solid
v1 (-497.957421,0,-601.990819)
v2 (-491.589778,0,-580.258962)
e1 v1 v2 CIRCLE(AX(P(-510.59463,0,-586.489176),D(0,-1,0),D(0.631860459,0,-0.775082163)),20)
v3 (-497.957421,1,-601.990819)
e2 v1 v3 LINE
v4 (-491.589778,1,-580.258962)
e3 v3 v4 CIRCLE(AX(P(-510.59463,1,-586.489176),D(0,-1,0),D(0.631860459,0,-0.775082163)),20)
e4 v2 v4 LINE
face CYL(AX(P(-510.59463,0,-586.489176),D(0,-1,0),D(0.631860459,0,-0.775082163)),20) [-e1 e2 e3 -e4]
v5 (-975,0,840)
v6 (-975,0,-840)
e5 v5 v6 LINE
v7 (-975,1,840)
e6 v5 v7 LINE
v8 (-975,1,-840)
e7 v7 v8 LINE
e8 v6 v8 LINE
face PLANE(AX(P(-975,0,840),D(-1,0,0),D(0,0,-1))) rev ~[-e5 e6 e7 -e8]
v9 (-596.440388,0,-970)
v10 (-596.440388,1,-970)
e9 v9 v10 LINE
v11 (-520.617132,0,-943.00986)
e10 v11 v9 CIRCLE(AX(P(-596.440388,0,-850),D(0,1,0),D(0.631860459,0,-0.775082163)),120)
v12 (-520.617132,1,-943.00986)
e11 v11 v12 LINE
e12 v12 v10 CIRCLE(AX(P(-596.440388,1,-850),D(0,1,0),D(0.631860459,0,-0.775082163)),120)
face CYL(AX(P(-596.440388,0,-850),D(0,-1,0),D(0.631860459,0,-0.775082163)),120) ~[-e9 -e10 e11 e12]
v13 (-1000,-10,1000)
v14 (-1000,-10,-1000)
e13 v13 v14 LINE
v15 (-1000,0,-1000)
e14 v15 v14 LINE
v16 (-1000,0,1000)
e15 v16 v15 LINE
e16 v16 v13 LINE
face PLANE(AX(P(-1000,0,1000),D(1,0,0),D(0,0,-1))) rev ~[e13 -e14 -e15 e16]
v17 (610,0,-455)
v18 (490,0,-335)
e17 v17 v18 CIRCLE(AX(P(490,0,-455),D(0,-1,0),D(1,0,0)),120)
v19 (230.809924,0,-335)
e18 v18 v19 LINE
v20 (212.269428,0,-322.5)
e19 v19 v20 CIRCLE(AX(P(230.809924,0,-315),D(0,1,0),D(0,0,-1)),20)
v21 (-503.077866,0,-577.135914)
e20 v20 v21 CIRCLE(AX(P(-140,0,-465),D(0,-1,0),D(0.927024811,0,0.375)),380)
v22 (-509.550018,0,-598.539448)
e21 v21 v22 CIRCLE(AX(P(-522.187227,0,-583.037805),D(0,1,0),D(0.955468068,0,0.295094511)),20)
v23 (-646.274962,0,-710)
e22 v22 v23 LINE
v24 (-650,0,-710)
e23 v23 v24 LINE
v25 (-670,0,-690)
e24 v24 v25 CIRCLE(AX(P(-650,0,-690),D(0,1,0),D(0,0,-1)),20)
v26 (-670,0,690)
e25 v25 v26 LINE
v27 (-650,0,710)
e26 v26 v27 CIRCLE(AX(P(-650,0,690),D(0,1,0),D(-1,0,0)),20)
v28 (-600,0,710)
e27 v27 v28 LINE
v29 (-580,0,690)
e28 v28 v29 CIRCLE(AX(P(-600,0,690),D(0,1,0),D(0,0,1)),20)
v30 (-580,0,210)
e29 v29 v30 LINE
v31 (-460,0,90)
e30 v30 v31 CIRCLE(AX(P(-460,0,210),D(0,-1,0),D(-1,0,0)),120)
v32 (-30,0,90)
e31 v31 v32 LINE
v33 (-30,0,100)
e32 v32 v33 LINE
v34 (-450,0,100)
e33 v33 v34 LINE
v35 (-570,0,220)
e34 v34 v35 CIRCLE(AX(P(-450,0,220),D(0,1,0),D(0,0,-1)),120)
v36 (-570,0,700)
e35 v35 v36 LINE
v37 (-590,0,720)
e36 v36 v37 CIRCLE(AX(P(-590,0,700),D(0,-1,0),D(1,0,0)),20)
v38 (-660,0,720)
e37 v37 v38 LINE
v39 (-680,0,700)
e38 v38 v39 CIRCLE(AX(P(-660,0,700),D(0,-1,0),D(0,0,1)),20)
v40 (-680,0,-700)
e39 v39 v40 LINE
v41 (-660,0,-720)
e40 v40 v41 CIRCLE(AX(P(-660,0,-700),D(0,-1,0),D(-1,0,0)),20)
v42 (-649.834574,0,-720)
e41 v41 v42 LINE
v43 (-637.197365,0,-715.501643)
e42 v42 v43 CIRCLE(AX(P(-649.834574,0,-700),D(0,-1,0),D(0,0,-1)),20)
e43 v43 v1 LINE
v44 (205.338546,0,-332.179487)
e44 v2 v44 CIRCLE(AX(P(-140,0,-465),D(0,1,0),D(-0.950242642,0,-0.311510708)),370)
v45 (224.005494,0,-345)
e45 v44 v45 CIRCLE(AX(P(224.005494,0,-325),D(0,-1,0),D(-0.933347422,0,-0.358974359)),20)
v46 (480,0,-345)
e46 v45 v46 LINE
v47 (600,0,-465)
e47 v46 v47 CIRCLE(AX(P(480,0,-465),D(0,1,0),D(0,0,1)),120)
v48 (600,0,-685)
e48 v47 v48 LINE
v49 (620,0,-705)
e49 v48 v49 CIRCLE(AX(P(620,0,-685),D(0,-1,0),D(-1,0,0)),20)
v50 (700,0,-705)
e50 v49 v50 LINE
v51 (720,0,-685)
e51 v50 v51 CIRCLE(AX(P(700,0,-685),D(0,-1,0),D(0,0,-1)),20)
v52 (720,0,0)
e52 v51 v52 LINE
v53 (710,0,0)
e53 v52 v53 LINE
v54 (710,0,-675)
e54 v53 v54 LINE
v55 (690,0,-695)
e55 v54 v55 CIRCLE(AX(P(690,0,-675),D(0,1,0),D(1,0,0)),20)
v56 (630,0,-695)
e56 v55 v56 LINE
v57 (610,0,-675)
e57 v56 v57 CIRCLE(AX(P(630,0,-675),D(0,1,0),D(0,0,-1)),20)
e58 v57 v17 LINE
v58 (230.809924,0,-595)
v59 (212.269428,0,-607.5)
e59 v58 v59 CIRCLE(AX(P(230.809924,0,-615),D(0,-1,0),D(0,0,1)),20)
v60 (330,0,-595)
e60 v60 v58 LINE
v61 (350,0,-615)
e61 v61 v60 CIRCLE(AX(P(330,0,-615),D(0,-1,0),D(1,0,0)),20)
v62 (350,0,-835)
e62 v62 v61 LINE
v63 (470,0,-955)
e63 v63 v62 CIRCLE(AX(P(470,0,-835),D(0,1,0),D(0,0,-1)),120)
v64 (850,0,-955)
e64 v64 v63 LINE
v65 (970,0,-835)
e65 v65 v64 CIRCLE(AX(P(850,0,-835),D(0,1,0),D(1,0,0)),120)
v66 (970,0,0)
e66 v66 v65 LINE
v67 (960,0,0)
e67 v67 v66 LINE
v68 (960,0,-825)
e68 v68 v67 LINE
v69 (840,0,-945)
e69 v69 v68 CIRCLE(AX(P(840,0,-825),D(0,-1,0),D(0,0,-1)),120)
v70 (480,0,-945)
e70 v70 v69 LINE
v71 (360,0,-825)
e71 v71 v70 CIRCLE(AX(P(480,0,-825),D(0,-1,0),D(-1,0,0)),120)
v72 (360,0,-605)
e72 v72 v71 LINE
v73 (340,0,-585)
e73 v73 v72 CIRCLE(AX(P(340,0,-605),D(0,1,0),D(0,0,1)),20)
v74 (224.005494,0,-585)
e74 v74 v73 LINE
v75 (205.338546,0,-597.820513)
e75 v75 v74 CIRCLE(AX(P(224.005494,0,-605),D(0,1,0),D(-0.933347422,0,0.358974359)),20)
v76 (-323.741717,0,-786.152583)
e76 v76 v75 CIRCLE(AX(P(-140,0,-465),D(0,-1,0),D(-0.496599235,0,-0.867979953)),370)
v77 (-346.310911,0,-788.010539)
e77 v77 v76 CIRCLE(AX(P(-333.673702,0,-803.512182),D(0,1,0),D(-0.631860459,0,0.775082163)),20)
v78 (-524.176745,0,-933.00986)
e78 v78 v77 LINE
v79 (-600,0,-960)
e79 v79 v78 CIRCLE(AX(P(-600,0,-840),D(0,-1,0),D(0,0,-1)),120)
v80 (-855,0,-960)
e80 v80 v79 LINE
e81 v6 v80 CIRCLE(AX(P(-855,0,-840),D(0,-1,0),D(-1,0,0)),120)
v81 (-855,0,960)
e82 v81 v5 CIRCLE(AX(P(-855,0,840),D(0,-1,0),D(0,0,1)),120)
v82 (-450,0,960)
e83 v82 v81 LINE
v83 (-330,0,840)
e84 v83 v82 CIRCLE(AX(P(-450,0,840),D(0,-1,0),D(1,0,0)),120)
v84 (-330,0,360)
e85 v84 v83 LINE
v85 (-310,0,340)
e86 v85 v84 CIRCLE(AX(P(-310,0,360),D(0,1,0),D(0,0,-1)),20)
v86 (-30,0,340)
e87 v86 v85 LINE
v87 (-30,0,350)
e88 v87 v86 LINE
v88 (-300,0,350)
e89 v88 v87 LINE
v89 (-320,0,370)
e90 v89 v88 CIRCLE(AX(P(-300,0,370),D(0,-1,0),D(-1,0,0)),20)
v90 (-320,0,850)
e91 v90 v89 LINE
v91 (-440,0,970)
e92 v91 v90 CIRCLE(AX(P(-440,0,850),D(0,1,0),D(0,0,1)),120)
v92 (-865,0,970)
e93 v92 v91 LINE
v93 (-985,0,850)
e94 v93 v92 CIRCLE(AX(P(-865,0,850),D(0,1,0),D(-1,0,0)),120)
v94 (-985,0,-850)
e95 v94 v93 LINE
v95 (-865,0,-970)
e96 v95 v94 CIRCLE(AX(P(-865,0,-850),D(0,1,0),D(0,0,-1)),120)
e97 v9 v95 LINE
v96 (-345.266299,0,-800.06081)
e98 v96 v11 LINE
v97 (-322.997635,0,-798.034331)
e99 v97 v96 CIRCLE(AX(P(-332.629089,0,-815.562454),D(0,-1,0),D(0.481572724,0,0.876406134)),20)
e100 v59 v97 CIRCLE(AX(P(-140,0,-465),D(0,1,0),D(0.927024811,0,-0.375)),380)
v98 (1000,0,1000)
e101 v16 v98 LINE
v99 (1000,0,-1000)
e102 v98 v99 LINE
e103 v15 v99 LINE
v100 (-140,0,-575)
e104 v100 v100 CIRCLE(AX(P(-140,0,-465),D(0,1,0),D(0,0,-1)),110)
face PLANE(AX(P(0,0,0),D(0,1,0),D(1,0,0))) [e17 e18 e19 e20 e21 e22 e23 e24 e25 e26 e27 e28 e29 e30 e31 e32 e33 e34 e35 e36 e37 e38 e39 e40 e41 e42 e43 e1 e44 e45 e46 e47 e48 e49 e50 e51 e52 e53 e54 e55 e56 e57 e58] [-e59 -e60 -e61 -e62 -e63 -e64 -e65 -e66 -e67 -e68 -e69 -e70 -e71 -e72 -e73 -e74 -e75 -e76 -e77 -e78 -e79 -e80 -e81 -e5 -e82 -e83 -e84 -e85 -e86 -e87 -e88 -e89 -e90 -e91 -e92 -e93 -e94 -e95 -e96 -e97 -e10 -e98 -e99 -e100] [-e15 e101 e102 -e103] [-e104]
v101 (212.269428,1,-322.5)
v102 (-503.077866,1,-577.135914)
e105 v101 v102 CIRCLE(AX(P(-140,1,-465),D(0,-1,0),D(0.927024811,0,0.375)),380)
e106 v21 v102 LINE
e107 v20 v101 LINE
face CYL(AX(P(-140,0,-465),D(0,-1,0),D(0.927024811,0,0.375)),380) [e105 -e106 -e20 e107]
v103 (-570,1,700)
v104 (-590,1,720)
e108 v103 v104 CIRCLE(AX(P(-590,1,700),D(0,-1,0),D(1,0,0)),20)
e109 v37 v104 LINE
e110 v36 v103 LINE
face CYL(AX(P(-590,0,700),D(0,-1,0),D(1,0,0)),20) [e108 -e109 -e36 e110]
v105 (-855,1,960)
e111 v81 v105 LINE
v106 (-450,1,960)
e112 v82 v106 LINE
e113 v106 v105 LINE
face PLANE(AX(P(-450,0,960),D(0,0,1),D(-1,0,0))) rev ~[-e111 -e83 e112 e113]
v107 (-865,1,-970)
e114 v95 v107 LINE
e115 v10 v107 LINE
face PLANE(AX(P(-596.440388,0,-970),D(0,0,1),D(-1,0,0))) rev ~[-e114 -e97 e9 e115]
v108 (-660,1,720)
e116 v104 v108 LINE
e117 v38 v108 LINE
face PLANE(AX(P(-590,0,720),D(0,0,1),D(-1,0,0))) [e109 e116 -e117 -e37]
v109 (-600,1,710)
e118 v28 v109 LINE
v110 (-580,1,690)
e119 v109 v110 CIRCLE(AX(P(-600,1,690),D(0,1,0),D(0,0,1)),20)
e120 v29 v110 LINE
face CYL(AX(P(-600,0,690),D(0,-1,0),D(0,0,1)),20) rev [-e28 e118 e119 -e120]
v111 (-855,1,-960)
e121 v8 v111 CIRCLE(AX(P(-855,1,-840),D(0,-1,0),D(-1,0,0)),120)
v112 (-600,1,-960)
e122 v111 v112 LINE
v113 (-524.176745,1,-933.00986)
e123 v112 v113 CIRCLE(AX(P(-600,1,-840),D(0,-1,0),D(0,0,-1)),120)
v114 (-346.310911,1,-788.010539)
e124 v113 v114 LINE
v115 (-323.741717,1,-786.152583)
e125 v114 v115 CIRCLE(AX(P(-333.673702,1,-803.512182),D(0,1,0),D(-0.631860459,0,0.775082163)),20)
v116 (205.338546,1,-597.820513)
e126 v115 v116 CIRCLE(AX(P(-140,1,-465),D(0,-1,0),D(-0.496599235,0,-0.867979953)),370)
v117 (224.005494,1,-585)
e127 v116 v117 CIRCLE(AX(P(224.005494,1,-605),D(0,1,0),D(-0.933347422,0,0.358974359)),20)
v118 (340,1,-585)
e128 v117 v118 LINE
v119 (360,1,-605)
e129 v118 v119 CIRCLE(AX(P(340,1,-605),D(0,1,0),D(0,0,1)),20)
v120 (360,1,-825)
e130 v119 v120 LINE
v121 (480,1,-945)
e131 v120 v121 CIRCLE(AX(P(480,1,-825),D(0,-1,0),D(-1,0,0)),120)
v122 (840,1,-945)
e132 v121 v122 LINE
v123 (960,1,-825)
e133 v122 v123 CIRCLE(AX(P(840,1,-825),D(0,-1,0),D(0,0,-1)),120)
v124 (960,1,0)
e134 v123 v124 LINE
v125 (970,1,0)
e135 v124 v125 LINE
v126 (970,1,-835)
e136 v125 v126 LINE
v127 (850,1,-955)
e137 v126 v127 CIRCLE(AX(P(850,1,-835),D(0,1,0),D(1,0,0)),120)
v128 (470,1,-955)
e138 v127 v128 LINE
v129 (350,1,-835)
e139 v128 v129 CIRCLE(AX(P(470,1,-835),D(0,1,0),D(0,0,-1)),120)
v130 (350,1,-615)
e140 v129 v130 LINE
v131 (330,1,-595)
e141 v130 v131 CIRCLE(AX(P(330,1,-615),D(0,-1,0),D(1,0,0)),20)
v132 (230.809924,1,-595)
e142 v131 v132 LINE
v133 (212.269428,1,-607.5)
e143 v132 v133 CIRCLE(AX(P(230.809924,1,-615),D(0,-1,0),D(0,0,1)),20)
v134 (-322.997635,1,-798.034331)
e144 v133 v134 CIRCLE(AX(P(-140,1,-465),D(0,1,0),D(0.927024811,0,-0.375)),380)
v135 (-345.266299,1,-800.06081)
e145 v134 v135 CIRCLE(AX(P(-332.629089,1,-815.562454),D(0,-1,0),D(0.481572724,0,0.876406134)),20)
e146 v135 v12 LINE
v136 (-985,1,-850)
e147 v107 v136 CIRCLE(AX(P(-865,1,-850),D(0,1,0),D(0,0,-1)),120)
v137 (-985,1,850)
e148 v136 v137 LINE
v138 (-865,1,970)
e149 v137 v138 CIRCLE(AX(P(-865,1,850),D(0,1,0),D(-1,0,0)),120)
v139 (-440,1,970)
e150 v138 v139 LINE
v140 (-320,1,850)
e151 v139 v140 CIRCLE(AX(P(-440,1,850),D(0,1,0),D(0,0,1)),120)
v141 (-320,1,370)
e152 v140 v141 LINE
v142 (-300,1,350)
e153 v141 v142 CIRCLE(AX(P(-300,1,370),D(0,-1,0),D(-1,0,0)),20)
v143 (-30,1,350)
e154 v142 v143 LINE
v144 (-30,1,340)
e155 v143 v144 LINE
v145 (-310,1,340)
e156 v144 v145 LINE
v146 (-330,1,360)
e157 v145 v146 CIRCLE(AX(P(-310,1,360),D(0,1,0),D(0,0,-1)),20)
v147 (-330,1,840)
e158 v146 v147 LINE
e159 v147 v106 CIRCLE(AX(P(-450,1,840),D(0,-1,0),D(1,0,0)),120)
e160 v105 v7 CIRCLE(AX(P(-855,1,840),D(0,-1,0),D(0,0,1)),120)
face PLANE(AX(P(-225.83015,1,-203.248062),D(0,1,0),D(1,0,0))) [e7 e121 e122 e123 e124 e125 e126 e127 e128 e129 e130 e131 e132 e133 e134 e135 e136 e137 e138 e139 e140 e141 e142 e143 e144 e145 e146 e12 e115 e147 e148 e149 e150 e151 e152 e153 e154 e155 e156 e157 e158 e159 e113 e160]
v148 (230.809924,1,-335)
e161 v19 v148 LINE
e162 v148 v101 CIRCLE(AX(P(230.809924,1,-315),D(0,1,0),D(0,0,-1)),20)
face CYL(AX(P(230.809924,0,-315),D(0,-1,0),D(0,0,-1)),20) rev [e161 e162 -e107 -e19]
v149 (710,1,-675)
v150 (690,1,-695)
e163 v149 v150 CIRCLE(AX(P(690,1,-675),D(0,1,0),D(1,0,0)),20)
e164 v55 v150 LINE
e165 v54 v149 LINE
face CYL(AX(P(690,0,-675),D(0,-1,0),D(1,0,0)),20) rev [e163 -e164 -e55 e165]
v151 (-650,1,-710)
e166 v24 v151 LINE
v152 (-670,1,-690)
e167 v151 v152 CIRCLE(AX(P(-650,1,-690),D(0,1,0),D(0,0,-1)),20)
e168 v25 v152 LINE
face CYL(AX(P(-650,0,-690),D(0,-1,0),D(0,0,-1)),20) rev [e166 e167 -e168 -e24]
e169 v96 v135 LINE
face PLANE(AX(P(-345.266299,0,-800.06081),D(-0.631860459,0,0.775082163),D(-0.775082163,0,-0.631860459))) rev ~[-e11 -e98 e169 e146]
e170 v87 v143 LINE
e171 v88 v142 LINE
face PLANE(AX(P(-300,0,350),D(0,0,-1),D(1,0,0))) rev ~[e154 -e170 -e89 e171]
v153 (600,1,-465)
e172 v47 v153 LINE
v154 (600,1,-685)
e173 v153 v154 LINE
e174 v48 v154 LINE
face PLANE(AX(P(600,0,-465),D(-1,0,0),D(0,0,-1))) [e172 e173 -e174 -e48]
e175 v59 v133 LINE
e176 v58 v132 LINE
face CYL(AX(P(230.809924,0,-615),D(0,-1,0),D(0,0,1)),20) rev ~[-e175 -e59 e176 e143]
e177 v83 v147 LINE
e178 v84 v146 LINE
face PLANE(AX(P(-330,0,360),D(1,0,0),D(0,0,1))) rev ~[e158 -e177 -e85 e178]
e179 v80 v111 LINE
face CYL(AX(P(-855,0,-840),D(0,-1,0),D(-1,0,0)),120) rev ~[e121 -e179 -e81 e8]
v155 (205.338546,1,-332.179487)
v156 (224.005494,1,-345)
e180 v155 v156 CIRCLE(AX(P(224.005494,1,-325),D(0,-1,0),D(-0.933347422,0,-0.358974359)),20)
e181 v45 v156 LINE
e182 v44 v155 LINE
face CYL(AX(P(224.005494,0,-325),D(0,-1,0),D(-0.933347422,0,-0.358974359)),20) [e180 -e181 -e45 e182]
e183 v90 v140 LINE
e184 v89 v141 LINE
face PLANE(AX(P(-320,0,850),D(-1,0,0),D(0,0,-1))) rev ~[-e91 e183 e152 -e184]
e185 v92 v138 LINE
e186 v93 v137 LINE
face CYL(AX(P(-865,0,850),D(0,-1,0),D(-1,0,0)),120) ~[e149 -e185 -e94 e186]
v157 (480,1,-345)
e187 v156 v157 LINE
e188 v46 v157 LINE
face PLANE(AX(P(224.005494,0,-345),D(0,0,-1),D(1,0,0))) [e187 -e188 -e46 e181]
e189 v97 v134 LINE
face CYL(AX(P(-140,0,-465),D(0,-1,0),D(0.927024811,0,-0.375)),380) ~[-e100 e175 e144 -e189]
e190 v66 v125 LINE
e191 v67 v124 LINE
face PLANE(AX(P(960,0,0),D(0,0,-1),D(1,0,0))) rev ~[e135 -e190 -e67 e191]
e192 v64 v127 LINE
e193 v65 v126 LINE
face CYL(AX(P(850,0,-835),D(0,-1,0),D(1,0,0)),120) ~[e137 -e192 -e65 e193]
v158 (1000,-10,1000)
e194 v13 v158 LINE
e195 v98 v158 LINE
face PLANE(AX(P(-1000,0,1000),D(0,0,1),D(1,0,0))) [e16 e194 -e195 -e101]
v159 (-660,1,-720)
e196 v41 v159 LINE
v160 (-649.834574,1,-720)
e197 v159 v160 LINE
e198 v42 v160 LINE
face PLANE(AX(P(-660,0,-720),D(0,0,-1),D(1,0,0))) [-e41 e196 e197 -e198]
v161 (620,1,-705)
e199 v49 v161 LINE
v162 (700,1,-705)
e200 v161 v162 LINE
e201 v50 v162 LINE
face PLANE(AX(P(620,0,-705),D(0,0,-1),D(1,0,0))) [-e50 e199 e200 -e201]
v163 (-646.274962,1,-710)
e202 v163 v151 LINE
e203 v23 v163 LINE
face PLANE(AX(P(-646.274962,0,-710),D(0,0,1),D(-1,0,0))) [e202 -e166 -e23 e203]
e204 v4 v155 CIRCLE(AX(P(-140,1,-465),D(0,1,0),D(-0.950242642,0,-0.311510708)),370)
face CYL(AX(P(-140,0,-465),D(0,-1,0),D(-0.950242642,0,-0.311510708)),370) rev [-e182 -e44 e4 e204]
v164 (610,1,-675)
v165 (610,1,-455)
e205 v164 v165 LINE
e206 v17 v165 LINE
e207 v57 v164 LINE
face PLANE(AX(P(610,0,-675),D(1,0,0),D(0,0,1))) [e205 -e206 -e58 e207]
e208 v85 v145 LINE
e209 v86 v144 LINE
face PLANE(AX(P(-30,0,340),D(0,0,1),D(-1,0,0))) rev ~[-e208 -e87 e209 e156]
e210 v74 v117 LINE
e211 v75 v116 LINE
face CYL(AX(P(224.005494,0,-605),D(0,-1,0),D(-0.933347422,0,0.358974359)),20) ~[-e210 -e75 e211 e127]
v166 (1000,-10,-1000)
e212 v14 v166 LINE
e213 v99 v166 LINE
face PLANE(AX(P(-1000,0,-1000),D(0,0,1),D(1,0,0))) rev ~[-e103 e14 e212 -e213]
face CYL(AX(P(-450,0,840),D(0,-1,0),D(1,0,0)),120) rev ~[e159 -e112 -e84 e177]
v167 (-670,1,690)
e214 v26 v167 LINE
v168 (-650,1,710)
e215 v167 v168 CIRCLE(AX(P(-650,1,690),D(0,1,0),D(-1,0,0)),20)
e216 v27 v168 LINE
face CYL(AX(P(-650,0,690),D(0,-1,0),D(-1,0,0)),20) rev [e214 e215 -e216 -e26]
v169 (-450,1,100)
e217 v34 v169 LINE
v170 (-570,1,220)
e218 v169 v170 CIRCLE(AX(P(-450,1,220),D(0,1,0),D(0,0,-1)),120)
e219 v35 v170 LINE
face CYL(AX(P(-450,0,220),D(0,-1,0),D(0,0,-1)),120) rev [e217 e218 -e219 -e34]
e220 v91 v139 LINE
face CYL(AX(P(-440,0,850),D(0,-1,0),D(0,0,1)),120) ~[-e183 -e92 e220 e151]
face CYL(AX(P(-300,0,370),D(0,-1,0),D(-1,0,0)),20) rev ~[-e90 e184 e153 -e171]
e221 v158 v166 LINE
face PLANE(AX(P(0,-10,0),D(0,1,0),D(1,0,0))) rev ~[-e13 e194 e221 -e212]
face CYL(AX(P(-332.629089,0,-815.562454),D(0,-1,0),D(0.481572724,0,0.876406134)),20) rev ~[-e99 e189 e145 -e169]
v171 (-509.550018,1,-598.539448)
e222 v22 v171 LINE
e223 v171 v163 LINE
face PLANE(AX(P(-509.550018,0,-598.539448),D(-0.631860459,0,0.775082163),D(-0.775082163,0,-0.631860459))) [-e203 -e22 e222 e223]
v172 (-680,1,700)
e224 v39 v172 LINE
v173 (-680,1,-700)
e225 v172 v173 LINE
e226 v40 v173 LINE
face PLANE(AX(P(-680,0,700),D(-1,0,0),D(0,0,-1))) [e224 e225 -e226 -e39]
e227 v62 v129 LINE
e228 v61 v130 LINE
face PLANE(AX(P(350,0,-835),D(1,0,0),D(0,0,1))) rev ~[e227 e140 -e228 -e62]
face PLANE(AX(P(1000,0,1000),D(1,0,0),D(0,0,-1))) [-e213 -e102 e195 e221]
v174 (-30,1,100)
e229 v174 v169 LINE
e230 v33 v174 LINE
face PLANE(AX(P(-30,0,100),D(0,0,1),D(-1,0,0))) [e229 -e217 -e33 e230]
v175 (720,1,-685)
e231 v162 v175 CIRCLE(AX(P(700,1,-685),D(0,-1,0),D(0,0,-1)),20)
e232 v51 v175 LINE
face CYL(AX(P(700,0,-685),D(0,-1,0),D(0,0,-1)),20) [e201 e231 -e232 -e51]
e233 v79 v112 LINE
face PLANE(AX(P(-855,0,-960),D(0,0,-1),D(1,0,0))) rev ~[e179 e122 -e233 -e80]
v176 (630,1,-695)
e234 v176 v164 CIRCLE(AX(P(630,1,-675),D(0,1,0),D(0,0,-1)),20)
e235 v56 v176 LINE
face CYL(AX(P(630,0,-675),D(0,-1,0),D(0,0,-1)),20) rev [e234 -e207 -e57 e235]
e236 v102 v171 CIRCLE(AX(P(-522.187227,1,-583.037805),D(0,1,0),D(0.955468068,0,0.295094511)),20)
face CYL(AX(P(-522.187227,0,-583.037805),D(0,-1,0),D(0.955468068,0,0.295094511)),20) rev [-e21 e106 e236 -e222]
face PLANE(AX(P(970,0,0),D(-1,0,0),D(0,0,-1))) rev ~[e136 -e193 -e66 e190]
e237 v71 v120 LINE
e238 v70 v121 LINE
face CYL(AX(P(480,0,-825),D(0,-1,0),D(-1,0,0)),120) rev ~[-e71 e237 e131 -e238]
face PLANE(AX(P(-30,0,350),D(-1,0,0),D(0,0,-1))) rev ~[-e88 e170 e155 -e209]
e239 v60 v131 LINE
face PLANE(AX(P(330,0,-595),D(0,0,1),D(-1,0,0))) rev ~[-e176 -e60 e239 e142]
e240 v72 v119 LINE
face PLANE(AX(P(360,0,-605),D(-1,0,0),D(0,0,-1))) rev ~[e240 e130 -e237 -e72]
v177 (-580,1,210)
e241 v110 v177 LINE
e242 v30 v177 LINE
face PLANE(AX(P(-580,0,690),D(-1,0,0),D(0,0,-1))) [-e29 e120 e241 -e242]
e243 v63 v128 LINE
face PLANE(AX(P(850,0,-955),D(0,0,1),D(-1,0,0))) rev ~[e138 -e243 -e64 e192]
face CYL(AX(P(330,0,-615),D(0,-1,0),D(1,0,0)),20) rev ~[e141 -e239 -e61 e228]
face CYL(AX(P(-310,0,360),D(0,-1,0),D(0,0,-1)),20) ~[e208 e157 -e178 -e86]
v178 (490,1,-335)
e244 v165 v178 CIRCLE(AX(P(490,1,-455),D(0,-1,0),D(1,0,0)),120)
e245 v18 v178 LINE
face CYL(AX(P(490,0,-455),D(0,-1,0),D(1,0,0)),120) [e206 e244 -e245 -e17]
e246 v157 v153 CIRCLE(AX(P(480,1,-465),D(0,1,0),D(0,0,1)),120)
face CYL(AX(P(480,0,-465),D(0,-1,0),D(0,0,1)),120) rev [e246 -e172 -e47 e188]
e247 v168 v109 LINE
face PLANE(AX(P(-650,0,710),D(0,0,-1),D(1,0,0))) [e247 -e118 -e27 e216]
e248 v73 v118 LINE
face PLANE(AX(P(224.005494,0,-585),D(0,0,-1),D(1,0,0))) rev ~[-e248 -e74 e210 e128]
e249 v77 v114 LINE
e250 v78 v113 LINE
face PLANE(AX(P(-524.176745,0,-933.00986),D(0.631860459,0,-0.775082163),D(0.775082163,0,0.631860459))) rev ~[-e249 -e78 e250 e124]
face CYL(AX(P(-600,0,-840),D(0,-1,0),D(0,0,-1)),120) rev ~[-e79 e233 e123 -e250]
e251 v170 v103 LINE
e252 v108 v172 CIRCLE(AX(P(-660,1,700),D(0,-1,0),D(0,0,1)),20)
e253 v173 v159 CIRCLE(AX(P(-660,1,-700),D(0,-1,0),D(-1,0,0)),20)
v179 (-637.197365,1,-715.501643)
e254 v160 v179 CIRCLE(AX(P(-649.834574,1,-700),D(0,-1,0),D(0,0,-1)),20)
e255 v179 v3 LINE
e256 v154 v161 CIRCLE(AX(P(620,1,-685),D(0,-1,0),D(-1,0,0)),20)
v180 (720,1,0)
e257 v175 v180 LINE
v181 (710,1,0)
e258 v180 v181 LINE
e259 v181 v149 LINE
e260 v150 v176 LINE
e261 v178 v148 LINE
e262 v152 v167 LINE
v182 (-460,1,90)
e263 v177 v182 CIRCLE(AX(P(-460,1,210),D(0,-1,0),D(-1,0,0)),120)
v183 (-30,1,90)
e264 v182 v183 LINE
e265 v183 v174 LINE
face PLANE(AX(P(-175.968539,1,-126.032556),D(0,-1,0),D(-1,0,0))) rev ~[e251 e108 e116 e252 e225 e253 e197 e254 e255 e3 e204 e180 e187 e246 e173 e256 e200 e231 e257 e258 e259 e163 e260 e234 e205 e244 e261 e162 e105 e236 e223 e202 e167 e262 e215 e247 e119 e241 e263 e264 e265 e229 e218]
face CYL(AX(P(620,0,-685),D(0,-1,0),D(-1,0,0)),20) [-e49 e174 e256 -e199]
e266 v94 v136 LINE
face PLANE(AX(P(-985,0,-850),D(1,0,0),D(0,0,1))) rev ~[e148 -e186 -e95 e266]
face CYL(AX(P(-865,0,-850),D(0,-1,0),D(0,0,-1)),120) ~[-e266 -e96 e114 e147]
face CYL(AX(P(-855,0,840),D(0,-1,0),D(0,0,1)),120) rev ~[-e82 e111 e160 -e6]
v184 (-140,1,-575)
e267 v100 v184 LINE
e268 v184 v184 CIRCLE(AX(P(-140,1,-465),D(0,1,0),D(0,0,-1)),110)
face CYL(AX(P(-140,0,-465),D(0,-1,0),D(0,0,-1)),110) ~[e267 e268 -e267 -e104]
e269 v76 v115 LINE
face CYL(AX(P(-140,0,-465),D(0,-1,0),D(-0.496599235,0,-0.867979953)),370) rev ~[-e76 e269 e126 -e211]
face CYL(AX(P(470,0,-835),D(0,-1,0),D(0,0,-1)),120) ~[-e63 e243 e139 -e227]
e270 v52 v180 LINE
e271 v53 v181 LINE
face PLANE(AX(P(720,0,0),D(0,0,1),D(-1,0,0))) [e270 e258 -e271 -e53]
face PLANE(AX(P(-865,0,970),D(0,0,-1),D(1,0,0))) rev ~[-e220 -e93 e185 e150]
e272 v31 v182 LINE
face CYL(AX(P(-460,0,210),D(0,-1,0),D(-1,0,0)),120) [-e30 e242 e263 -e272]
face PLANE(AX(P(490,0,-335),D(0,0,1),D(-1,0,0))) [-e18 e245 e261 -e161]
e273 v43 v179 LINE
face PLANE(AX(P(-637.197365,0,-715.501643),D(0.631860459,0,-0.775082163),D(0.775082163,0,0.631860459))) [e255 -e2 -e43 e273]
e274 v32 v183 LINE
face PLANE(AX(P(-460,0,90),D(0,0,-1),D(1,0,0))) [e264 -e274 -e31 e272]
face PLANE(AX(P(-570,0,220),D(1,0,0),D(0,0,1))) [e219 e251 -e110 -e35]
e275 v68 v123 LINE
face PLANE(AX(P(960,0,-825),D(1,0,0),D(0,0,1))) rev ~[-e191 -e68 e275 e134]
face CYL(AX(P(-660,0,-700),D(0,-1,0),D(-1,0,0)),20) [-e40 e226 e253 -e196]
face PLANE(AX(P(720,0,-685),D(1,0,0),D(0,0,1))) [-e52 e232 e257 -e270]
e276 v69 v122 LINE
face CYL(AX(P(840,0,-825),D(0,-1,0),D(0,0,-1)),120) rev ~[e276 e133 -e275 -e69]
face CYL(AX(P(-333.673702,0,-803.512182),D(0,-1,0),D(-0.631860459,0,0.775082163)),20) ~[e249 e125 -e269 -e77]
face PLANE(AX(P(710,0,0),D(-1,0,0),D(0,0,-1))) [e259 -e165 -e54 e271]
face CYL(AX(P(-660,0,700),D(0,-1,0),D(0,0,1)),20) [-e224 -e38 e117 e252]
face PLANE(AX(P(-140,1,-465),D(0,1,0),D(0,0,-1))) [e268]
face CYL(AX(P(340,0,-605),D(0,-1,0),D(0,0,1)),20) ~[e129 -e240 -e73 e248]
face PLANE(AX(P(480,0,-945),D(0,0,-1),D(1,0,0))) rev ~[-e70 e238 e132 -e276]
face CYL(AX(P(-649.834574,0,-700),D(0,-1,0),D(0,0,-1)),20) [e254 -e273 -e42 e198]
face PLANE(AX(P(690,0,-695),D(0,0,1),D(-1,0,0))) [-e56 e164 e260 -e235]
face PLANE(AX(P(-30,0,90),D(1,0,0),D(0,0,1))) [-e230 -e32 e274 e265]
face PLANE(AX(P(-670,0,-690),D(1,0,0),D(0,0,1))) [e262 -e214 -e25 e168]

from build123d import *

# Parameters (mm, degrees)
ESQUISSE2_W        = 2000
ESQUISSE2_H        = 2000
BOSS_EXTRU_2_DEPTH = 10
ESQUISSE1_R        = 110
BOSS_EXTRU_6_DEPTH = 1


with BuildPart() as part:
    # Esquisse2 → Boss.-Extru.2 (new body)
    with BuildSketch(Plane(origin=(0, 0, 0), x_dir=(1, 0, 0), z_dir=(0, 1, 0))):
        Rectangle(ESQUISSE2_W, ESQUISSE2_H)
    extrude(amount=-BOSS_EXTRU_2_DEPTH)

    # Esquisse1 → Boss.-Extru.6 (add)
    with BuildSketch(Plane(origin=(0, 0, 0), x_dir=(1, 0, 0), z_dir=(0, 1, 0))):
        with Locations(Location((-140, 465, 0), (0, 0, 90))):
            Circle(ESQUISSE1_R)
        with BuildLine():
            Line((-30, -100), (-450, -100))
            ThreePointArc((-450, -100), (-534.852813742, -135.147186258), (-570, -220))
            Line((-570, -220), (-570, -700))
            ThreePointArc((-570, -700), (-575.857864376, -714.142135624), (-590, -720))
            Line((-590, -720), (-660, -720))
            ThreePointArc((-660, -720), (-674.142135624, -714.142135624), (-680, -700))
            Line((-680, -700), (-680, 700))
            ThreePointArc((-680, 700), (-674.142135624, 714.142135624), (-660, 720))
            Line((-660, 720), (-649.834574491, 720))
            ThreePointArc((-649.834574491, 720), (-643.12759549, 718.841879754), (-637.197365306, 715.501643268))
            Line((-637.197365306, 715.501643268), (-497.957421247, 601.990819307))
            ThreePointArc((-497.957421247, 601.990819307), (-491.401573638, 592.112926645), (-491.58977759, 580.258961883))
            ThreePointArc((-491.58977759, 580.258961883), (-264.079111523, 116.425224545), (205.33854603, 332.179487179))
            ThreePointArc((205.33854603, 332.179487179), (212.682724123, 341.486202467), (224.005494464, 345))
            Line((224.005494464, 345), (480, 345))
            ThreePointArc((480, 345), (564.852813742, 380.147186258), (600, 465))
            Line((600, 465), (600, 685))
            ThreePointArc((600, 685), (605.857864376, 699.142135624), (620, 705))
            Line((620, 705), (700, 705))
            ThreePointArc((700, 705), (714.142135624, 699.142135624), (720, 685))
            Line((720, 685), (720, 0))
            Line((720, 0), (710, 0))
            Line((710, 0), (710, 675))
            ThreePointArc((710, 675), (704.142135624, 689.142135624), (690, 695))
            Line((690, 695), (630, 695))
            ThreePointArc((630, 695), (615.857864376, 689.142135624), (610, 675))
            Line((610, 675), (610, 455))
            ThreePointArc((610, 455), (574.852813742, 370.147186258), (490, 335))
            Line((490, 335), (230.809924355, 335))
            ThreePointArc((230.809924355, 335), (219.629584467, 331.583123952), (212.269428137, 322.5))
            ThreePointArc((212.269428137, 322.5), (-267.432601024, 107.004284668), (-503.077865902, 577.135914371))
            ThreePointArc((-503.077865902, 577.135914371), (-503.043324922, 588.826673493), (-509.55001808, 598.539447869))
            Line((-509.55001808, 598.539447869), (-646.274962028, 710))
            Line((-646.274962028, 710), (-650, 710))
            ThreePointArc((-650, 710), (-664.142135624, 704.142135624), (-670, 690))
            Line((-670, 690), (-670, -690))
            ThreePointArc((-670, -690), (-664.142135624, -704.142135624), (-650, -710))
            Line((-650, -710), (-600, -710))
            ThreePointArc((-600, -710), (-585.857864376, -704.142135624), (-580, -690))
            Line((-580, -690), (-580, -210))
            ThreePointArc((-580, -210), (-544.852813742, -125.147186258), (-460, -90))
            Line((-460, -90), (-30, -90))
            Line((-30, -90), (-30, -100))
        make_face()
        with BuildLine():
            Line((-30, -340), (-310, -340))
            ThreePointArc((-310, -340), (-324.142135624, -345.857864376), (-330, -360))
            Line((-330, -360), (-330, -840))
            ThreePointArc((-330, -840), (-365.147186258, -924.852813742), (-450, -960))
            Line((-450, -960), (-855, -960))
            ThreePointArc((-855, -960), (-939.852813742, -924.852813742), (-975, -840))
            Line((-975, -840), (-975, 840))
            ThreePointArc((-975, 840), (-939.852813742, 924.852813742), (-855, 960))
            Line((-855, 960), (-600, 960))
            ThreePointArc((-600, 960), (-559.758125993, 953.051278526), (-524.176744886, 933.009859606))
            Line((-524.176744886, 933.009859606), (-346.310911019, 788.010538519))
            ThreePointArc((-346.310911019, 788.010538519), (-335.314603965, 783.579609444), (-323.741717124, 786.152582721))
            ThreePointArc((-323.741717124, 786.152582721), (-15.920888477, 813.574775455), (205.33854603, 597.820512821))
            ThreePointArc((205.33854603, 597.820512821), (212.682724123, 588.513797533), (224.005494464, 585))
            Line((224.005494464, 585), (340, 585))
            ThreePointArc((340, 585), (354.142135624, 590.857864376), (360, 605))
            Line((360, 605), (360, 825))
            ThreePointArc((360, 825), (395.147186258, 909.852813742), (480, 945))
            Line((480, 945), (840, 945))
            ThreePointArc((840, 945), (924.852813742, 909.852813742), (960, 825))
            Line((960, 825), (960, 0))
            Line((960, 0), (970, 0))
            Line((970, 0), (970, 835))
            ThreePointArc((970, 835), (934.852813742, 919.852813742), (850, 955))
            Line((850, 955), (470, 955))
            ThreePointArc((470, 955), (385.147186258, 919.852813742), (350, 835))
            Line((350, 835), (350, 615))
            ThreePointArc((350, 615), (344.142135624, 600.857864376), (330, 595))
            Line((330, 595), (230.809924355, 595))
            ThreePointArc((230.809924355, 595), (219.629584467, 598.416876048), (212.269428137, 607.5))
            ThreePointArc((212.269428137, 607.5), (-12.567398976, 822.995715332), (-322.997635007, 798.034330936))
            ThreePointArc((-322.997635007, 798.034330936), (-334.44162777, 795.644755332), (-345.266298667, 800.060810349))
            Line((-345.266298667, 800.060810349), (-520.617132423, 943.009859606))
            ThreePointArc((-520.617132423, 943.009859606), (-556.198513529, 963.051278526), (-596.440387536, 970))
            Line((-596.440387536, 970), (-865, 970))
            ThreePointArc((-865, 970), (-949.852813742, 934.852813742), (-985, 850))
            Line((-985, 850), (-985, -850))
            ThreePointArc((-985, -850), (-949.852813742, -934.852813742), (-865, -970))
            Line((-865, -970), (-440, -970))
            ThreePointArc((-440, -970), (-355.147186258, -934.852813742), (-320, -850))
            Line((-320, -850), (-320, -370))
            ThreePointArc((-320, -370), (-314.142135624, -355.857864376), (-300, -350))
            Line((-300, -350), (-30, -350))
            Line((-30, -350), (-30, -340))
        make_face()
    extrude(amount=BOSS_EXTRU_6_DEPTH)


solid = part.part
